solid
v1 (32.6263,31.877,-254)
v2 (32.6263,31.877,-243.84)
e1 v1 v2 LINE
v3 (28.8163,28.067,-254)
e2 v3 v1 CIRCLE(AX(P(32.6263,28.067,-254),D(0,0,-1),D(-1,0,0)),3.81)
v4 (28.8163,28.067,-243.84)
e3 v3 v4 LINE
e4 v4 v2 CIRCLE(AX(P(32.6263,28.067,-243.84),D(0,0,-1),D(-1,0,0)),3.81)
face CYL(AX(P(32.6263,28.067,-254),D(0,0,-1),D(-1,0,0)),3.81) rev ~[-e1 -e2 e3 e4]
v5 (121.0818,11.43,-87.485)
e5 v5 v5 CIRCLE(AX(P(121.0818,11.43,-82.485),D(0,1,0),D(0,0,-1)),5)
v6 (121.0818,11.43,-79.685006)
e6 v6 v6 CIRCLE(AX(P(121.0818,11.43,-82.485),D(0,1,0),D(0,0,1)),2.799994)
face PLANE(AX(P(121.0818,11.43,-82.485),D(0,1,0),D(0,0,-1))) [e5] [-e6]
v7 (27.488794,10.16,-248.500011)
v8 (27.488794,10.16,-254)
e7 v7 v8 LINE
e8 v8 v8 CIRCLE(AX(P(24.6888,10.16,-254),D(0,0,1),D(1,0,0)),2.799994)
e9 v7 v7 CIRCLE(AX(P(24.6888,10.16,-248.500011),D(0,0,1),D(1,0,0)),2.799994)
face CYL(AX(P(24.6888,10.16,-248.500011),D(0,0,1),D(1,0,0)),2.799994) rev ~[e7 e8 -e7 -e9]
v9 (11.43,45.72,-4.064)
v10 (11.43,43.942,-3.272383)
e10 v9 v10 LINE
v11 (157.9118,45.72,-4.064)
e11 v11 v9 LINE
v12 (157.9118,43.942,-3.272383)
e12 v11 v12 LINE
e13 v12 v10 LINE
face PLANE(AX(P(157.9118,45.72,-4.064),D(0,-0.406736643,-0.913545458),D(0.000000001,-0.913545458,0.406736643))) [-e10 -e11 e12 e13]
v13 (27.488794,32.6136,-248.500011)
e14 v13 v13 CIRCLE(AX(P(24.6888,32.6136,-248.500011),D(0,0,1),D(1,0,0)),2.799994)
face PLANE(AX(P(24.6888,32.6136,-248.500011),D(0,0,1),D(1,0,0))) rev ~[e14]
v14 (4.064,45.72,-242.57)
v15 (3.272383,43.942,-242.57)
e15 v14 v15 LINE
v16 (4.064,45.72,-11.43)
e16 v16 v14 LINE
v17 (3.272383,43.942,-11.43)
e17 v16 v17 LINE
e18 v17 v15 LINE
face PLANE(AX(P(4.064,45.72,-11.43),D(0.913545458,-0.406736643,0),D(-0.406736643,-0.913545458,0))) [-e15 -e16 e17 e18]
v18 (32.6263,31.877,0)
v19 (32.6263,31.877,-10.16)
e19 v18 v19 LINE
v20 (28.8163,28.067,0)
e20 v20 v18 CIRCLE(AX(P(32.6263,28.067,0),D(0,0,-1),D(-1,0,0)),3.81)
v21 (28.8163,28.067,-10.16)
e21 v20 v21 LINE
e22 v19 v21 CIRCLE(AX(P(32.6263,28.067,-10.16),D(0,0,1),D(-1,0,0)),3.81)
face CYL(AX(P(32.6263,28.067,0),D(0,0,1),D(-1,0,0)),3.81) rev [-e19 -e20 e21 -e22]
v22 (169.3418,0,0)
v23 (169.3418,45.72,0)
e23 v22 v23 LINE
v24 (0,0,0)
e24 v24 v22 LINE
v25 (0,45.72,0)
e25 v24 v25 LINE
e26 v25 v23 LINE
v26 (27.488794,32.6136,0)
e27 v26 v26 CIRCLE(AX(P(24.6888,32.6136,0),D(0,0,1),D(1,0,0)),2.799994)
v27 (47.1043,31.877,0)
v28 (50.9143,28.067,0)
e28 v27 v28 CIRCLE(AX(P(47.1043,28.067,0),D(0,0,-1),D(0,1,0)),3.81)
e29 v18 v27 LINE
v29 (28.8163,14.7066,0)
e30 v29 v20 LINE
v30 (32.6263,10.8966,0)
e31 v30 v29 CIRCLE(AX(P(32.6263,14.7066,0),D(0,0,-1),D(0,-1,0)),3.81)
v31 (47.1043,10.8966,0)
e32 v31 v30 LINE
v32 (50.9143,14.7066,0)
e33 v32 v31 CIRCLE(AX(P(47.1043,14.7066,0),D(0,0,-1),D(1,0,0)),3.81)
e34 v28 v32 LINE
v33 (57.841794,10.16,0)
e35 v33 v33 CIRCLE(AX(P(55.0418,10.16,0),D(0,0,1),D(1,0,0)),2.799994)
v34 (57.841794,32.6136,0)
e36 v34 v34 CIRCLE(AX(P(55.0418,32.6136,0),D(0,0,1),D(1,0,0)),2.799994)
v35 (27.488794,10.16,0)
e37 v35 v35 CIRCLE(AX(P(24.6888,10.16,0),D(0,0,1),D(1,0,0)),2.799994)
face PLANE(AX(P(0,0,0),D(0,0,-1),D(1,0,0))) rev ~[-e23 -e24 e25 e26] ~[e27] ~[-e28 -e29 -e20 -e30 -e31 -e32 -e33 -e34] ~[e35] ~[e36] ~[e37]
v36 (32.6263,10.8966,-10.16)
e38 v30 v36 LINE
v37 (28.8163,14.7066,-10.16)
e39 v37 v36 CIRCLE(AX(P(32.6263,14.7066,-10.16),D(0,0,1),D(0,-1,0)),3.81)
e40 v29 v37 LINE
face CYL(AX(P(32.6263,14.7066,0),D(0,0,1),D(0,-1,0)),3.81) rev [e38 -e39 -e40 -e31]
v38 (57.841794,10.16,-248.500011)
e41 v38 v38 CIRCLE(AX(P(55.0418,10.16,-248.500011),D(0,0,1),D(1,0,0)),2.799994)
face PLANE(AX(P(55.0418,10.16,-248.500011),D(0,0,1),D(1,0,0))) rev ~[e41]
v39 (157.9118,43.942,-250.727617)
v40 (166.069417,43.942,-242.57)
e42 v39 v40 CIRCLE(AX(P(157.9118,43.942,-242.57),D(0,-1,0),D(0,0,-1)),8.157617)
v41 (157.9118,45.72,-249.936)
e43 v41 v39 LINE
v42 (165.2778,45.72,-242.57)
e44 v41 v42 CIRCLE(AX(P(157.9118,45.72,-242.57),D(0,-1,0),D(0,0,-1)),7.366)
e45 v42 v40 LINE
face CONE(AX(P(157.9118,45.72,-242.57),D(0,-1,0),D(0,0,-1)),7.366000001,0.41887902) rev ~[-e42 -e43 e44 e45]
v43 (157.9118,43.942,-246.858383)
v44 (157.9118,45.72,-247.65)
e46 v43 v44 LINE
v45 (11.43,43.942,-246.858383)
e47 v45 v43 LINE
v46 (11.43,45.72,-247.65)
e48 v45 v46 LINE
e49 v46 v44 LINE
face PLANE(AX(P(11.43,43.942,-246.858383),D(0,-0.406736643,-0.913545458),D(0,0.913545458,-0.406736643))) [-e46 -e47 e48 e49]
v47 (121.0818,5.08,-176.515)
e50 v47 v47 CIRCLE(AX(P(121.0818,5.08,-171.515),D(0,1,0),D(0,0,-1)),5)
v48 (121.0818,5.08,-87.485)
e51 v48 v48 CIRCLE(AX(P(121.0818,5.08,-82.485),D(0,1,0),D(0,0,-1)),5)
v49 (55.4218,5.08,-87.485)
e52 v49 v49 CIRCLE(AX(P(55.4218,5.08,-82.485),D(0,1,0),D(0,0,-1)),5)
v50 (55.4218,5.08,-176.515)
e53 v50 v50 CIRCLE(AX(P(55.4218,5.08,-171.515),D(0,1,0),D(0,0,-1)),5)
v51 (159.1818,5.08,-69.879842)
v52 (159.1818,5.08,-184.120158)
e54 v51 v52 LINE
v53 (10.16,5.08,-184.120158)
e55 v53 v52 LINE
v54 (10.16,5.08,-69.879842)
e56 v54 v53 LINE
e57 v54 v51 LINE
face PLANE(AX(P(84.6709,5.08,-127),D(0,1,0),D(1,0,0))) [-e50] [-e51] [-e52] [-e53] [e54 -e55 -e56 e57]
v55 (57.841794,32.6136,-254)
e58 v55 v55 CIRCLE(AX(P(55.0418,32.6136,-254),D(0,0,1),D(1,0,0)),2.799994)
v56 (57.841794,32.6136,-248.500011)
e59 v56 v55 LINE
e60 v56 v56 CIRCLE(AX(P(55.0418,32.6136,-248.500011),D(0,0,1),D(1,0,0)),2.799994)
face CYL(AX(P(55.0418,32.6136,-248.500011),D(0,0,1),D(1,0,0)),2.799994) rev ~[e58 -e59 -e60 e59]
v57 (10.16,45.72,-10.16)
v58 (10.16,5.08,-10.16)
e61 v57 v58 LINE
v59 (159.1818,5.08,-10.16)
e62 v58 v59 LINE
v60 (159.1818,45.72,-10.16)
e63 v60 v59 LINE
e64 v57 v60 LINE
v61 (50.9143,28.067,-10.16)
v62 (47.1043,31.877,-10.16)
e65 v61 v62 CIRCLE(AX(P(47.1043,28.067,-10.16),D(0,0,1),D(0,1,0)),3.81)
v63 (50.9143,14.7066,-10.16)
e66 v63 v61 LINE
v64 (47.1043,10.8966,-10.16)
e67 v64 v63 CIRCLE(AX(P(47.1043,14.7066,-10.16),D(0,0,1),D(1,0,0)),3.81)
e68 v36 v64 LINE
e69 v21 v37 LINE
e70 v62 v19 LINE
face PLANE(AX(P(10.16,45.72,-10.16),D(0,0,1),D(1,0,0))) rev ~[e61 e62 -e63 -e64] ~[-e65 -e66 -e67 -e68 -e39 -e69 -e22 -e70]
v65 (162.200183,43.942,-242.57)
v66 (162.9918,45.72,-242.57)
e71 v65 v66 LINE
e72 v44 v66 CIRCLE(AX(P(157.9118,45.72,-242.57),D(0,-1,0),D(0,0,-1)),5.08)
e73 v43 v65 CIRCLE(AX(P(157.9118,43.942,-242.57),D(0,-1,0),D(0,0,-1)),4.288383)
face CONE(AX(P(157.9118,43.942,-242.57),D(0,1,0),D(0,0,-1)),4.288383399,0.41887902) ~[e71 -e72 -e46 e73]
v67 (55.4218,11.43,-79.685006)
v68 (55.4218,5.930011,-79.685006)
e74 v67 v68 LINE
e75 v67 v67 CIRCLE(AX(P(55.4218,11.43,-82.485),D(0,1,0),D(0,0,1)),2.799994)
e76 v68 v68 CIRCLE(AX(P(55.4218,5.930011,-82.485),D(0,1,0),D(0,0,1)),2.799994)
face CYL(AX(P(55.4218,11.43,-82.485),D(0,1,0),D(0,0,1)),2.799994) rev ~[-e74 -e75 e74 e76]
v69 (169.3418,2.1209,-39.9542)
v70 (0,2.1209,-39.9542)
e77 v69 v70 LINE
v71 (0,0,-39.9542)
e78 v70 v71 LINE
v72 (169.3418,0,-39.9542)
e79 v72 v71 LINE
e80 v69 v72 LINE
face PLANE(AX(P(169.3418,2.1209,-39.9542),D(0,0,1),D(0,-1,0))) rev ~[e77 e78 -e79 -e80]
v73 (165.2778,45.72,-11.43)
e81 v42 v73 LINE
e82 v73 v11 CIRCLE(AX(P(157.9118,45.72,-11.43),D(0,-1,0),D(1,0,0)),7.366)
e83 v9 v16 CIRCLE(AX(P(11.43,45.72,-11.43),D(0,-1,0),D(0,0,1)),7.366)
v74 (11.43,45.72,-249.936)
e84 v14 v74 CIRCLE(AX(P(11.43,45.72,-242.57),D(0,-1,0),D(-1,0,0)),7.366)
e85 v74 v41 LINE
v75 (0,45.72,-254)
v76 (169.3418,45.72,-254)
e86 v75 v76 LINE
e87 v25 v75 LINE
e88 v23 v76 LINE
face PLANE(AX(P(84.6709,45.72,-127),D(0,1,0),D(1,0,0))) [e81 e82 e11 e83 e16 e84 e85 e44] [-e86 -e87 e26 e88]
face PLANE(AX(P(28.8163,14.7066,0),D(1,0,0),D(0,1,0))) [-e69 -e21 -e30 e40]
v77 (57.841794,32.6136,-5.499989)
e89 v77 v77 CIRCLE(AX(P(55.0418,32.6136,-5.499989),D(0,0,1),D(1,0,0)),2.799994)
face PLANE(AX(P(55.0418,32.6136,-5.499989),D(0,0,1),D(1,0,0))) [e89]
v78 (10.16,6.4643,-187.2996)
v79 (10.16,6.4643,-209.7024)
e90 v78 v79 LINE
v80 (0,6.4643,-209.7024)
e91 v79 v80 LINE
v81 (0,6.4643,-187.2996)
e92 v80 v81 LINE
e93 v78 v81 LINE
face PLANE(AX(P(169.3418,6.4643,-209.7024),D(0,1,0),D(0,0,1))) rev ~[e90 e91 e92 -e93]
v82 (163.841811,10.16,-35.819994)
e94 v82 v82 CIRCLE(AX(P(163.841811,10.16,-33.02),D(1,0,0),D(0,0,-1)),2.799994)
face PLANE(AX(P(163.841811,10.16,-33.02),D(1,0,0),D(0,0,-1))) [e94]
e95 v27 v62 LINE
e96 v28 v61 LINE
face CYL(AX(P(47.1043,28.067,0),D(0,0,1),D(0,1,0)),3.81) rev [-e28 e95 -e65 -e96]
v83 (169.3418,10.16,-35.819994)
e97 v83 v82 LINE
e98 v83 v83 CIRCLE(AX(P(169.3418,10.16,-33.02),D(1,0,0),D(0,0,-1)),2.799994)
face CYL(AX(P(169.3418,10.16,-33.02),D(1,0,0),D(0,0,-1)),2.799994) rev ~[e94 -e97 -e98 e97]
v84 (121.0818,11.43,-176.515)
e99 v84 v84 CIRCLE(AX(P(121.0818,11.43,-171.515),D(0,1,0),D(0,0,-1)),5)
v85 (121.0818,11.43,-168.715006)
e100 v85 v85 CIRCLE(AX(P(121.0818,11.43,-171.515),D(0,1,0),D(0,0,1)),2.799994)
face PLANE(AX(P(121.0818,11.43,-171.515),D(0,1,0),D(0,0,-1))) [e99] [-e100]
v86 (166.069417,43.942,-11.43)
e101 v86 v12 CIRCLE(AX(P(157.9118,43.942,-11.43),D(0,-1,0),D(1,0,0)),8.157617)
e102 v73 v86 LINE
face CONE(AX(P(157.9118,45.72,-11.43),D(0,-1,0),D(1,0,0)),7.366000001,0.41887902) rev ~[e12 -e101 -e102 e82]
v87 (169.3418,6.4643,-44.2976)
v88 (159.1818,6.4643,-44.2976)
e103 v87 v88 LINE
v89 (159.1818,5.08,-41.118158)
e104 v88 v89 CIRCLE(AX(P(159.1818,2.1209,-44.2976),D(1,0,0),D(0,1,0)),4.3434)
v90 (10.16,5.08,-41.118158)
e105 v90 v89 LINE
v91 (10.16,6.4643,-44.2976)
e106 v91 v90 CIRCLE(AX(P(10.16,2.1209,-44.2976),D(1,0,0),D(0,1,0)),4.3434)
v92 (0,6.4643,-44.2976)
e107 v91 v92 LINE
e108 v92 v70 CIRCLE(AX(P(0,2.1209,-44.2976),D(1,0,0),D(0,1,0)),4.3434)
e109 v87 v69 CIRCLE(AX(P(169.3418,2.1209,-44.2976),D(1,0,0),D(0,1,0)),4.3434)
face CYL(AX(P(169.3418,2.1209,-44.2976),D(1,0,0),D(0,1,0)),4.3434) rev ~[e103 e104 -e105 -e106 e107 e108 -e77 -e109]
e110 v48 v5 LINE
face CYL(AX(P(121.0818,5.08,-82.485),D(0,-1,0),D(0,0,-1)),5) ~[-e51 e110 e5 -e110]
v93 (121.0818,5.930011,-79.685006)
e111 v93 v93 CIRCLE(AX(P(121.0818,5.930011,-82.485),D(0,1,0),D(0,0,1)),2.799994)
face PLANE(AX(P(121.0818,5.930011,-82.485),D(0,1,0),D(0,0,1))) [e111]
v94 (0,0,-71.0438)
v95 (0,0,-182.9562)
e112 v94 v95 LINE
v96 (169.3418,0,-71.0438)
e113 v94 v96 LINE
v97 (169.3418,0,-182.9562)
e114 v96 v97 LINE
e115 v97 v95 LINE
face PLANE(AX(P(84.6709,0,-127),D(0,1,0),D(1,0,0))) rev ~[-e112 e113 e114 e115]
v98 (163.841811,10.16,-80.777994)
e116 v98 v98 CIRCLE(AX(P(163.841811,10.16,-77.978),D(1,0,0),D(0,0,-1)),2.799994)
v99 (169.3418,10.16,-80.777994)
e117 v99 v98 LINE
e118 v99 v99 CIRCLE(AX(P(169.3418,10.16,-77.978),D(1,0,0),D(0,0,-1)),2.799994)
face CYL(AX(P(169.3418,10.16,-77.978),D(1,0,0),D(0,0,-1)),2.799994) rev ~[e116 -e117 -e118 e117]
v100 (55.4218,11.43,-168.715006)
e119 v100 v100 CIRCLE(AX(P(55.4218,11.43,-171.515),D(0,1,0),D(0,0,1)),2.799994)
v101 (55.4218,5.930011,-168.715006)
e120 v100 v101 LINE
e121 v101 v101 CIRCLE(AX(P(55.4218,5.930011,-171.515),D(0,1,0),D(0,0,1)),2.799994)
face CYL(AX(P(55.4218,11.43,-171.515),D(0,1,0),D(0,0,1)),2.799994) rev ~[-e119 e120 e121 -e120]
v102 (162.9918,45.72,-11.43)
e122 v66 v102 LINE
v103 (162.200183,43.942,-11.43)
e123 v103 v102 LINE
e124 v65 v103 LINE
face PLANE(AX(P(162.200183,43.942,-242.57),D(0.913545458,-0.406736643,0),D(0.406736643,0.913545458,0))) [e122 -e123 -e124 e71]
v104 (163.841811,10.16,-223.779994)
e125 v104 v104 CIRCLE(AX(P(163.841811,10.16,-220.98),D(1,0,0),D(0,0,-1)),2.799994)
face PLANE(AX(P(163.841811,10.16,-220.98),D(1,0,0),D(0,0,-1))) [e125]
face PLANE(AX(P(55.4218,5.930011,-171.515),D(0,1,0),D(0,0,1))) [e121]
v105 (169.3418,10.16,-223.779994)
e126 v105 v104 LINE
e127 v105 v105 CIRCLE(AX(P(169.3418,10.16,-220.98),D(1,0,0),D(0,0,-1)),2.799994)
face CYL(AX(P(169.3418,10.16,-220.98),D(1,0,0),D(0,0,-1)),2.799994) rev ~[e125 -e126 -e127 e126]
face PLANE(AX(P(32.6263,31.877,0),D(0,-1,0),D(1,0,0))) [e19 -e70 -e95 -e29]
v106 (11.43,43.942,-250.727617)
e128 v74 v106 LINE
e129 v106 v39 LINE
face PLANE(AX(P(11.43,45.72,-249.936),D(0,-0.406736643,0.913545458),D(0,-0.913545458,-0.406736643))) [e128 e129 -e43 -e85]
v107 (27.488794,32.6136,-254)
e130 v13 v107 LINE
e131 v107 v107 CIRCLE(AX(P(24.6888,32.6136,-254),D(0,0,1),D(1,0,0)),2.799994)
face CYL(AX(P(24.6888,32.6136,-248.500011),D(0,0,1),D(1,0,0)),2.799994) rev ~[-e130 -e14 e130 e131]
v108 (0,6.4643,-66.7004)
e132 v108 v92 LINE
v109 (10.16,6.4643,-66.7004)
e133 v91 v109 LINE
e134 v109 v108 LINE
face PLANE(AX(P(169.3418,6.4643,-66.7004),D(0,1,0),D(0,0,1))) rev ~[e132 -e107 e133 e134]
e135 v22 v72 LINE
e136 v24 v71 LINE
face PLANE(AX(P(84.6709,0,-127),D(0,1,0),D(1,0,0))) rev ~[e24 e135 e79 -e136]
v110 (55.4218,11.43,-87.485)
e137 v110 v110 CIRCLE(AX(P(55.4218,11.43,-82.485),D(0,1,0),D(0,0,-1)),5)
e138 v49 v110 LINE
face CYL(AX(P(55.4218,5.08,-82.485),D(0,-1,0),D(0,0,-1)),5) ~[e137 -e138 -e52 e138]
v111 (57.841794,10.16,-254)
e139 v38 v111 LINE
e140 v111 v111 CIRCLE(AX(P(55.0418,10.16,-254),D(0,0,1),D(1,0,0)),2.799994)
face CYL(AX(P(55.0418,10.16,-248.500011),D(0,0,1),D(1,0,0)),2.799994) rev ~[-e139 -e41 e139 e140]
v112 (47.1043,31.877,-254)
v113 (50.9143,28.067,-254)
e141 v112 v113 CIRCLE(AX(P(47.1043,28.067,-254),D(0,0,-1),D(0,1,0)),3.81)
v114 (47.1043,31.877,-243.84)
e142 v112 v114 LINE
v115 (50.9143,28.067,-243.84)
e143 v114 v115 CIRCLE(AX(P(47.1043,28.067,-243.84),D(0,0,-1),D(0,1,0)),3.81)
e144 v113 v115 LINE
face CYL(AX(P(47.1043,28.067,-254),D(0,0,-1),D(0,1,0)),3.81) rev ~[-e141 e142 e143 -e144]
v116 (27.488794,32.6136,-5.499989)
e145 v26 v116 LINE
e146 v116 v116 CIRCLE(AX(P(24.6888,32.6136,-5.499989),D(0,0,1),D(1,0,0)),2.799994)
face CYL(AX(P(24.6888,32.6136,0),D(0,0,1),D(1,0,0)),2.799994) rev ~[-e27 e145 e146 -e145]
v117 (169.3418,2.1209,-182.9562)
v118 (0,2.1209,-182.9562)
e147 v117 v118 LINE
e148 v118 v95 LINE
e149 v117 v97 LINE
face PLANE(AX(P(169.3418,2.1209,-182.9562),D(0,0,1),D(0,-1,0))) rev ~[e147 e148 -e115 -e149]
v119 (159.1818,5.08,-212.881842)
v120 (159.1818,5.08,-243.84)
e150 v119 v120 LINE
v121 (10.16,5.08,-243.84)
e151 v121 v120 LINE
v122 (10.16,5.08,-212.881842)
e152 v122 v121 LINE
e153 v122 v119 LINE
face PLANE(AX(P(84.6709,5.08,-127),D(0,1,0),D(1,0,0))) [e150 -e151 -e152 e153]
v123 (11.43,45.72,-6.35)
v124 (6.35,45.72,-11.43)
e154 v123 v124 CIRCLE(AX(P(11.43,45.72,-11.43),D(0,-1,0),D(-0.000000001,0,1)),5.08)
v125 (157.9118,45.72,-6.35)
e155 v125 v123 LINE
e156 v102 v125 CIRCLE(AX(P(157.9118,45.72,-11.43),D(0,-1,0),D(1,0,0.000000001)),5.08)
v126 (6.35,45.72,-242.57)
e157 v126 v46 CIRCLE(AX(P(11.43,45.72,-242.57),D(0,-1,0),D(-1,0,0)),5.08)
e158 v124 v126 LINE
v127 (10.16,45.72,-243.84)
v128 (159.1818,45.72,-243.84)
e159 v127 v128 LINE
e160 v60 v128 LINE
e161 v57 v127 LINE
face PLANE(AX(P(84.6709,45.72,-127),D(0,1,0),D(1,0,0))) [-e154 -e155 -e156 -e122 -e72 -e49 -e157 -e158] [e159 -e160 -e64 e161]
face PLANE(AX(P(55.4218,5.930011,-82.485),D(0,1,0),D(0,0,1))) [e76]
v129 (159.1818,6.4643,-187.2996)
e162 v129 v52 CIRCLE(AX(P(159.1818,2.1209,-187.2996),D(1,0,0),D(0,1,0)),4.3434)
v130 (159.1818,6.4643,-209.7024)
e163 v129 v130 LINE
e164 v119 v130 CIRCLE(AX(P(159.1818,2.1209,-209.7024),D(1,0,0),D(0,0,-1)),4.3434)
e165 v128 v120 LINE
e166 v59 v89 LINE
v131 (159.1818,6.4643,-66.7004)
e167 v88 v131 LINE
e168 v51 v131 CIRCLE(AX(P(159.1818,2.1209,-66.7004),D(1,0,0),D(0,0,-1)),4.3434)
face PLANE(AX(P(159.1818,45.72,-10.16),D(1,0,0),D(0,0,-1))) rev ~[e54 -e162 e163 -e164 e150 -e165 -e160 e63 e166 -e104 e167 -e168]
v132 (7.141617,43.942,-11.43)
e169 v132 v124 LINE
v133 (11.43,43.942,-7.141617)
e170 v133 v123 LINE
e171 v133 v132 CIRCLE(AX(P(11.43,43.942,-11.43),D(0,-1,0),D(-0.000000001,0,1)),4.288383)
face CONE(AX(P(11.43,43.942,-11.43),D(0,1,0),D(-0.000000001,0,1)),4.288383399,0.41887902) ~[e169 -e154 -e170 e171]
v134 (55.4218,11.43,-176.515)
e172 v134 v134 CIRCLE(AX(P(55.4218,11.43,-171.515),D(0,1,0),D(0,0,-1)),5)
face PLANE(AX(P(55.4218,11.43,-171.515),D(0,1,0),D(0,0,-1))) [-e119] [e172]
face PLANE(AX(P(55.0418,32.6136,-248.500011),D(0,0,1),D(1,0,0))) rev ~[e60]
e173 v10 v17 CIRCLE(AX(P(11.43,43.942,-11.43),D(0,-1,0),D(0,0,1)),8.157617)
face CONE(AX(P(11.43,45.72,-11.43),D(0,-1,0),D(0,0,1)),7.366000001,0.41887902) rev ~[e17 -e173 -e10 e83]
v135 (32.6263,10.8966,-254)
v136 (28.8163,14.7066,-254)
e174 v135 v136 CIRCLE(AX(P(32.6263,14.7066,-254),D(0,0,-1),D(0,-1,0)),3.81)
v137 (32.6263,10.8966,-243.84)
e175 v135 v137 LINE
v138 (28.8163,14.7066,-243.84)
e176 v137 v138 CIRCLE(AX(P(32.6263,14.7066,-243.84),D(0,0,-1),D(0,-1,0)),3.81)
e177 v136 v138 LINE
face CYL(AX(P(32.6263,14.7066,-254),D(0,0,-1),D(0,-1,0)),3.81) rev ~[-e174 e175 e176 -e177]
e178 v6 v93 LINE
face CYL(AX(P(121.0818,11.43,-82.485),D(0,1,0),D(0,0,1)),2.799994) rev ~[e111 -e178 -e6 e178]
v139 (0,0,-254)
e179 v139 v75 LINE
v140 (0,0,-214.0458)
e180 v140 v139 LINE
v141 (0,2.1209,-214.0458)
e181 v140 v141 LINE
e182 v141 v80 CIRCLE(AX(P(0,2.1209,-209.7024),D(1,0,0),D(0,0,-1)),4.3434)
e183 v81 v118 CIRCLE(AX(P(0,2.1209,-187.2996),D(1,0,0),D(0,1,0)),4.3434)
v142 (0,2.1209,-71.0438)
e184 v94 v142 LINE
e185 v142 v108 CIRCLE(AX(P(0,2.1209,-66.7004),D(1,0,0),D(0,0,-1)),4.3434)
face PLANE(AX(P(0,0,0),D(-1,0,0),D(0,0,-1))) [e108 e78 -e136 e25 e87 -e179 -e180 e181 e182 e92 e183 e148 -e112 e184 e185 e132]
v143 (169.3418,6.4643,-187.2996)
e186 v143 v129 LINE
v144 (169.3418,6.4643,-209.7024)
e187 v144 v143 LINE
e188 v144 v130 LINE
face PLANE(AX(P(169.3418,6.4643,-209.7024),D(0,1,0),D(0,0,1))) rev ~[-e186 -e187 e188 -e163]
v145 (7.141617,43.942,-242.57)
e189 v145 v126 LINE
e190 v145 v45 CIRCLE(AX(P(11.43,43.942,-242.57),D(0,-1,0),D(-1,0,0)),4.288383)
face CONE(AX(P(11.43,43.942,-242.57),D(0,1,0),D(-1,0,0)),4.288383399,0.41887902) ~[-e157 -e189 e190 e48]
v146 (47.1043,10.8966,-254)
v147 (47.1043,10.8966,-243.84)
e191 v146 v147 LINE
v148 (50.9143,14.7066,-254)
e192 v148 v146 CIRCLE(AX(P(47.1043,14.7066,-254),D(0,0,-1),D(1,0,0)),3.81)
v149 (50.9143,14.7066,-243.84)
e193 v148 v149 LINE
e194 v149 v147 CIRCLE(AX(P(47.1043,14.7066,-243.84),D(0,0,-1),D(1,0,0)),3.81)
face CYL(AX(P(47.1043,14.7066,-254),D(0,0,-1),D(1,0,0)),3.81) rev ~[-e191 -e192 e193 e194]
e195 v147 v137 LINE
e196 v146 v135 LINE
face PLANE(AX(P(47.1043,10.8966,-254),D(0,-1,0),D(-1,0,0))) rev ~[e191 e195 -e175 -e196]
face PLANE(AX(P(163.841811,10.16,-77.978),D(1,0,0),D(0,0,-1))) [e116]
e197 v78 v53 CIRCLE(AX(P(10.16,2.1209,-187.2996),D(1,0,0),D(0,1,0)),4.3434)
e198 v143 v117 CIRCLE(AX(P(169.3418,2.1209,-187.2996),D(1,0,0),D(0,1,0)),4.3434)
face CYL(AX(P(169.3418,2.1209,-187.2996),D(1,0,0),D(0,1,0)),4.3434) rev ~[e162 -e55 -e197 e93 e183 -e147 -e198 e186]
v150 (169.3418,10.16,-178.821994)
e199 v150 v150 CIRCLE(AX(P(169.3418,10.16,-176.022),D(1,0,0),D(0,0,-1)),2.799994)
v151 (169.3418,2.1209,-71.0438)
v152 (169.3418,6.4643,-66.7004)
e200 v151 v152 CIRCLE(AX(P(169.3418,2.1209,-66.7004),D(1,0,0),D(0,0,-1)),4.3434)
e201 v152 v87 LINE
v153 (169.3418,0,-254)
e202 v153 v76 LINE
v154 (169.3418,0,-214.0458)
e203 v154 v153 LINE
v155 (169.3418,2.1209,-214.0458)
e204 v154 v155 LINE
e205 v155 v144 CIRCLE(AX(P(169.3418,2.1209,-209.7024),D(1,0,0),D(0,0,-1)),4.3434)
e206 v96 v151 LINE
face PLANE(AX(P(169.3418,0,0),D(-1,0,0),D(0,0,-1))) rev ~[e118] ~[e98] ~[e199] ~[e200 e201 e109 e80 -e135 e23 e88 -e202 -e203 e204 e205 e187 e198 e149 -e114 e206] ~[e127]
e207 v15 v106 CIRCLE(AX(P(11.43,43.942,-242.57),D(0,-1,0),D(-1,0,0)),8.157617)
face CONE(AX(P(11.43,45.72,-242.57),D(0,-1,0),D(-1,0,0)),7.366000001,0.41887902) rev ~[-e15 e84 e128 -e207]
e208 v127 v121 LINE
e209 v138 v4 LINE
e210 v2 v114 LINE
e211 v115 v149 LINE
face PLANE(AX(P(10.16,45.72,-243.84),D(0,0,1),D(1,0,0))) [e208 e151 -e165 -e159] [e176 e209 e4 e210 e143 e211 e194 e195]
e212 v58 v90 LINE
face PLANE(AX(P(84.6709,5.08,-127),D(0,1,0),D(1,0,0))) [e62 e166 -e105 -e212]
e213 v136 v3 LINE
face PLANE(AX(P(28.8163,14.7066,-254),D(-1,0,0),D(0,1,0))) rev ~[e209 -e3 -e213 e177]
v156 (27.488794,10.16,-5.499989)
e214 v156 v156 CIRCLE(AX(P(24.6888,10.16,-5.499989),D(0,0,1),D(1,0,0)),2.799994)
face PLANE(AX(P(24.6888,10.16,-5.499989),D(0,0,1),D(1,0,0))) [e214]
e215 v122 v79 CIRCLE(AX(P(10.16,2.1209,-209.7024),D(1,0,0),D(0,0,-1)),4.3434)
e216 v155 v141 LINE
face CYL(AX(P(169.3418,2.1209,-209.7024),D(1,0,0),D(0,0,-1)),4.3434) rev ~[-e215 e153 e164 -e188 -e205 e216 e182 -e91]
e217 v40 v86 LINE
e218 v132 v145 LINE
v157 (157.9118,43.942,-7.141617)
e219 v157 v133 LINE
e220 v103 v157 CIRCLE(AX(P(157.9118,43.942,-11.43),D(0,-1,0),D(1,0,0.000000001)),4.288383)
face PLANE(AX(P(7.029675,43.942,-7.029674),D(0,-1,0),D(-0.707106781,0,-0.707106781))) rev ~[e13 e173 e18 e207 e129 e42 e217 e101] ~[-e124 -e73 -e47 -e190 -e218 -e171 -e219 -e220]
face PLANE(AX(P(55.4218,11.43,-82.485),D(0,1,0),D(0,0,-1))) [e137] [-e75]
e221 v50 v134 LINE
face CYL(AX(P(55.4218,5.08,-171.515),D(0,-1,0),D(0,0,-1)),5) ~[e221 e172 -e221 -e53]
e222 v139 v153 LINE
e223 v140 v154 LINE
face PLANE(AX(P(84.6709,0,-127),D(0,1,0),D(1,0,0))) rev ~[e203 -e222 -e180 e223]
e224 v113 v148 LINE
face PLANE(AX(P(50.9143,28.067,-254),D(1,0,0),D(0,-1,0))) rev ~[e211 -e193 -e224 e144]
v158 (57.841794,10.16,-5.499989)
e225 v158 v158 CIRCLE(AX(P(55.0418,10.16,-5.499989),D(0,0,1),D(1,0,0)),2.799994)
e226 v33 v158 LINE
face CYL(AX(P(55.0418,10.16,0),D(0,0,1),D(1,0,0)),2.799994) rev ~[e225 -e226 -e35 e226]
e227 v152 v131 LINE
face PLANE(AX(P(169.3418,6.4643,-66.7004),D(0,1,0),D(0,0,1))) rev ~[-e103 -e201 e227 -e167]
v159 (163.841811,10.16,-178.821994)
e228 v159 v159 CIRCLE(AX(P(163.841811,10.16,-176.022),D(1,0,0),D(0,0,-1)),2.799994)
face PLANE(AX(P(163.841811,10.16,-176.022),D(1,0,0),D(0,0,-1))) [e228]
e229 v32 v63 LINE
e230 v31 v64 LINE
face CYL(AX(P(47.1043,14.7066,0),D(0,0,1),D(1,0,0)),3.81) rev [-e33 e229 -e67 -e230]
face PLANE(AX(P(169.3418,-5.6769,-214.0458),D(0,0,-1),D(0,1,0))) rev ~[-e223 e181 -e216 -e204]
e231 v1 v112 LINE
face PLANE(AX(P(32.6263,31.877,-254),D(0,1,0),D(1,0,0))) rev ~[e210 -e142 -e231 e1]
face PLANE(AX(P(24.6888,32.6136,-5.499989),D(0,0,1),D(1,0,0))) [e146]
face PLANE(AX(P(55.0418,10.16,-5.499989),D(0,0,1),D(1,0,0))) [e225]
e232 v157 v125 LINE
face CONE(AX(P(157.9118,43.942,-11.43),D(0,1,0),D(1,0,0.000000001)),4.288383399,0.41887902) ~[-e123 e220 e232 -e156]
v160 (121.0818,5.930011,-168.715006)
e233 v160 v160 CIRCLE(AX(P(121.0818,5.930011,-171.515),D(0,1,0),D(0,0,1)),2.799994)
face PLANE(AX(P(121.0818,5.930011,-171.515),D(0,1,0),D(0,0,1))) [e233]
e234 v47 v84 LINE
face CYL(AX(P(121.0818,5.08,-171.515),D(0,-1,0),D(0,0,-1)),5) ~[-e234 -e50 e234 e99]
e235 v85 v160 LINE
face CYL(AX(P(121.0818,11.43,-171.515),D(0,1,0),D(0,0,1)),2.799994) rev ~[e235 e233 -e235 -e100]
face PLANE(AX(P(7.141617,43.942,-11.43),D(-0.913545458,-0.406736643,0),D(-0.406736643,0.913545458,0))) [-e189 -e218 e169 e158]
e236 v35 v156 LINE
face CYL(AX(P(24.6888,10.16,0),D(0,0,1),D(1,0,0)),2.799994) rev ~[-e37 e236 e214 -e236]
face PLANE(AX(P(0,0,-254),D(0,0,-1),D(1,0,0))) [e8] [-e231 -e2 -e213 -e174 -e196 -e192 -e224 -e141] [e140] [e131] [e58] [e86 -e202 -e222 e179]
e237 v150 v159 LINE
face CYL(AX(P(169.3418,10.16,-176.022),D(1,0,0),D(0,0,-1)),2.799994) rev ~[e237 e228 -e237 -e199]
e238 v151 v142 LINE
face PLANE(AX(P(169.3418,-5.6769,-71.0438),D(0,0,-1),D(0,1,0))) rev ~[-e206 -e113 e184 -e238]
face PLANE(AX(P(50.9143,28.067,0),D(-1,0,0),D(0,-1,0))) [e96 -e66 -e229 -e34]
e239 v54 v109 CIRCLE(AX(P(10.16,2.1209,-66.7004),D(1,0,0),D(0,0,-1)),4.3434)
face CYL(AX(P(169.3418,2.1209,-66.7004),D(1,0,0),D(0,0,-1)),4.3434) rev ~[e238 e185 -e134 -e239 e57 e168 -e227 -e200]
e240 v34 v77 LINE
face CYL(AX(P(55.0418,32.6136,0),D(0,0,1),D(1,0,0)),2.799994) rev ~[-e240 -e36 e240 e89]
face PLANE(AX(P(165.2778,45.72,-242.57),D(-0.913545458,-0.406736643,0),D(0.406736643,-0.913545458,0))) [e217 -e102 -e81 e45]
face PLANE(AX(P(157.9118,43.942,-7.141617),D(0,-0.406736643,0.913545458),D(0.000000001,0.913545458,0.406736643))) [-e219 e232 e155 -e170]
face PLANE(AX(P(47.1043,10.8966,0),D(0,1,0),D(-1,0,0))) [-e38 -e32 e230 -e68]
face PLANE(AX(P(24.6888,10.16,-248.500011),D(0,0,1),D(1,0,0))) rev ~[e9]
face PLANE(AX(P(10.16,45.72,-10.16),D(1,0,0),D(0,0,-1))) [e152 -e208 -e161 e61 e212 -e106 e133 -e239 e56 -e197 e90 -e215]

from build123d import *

# Parameters (mm, degrees)
SKETCH1_W           = 169.3418
SKETCH1_H           = 254
BOSS_EXTRUDE1_DEPTH = 45.72
SKETCH2_W           = 149.0218
SKETCH2_H           = 233.68
CUT_EXTRUDE1_DEPTH  = 40.64
CUT_EXTRUDE10_REACH = 310.679
F_12_PIN_MOUNT_R    = 2.7999944
CUT_EXTRUDE3_DEPTH  = 5.499989
CUT_EXTRUDE5_REACH  = 310.679
CUT_EXTRUDE6_START  = -254
CUT_EXTRUDE6_DEPTH  = 10.16
SKETCH6_R           = 2.7999944
CUT_EXTRUDE7_DEPTH  = 5.499989
CUT_EXTRUDE8_START  = -248.500011
SKETCH6_2_R         = 2.7999944
CUT_EXTRUDE8_DEPTH  = 5.499989
SKETCH7_R           = 5
BOSS_EXTRUDE2_DEPTH = 6.35
CUT_EXTRUDE9_START  = 6.35
SKETCH8_R           = 2.7999944
CUT_EXTRUDE9_DEPTH  = 5.499989


with BuildPart() as part:
    # Sketch1 → Boss-Extrude1 (new body)
    with BuildSketch(Plane(origin=(0, 0, 0), x_dir=(1, 0, 0), z_dir=(0, 1, 0))):
        with Locations((84.6709, 127)):
            Rectangle(SKETCH1_W, SKETCH1_H)
    extrude(amount=BOSS_EXTRUDE1_DEPTH)

    # Sketch2 → Cut-Extrude1 (cut)
    with BuildSketch(Plane(origin=(0, 45.72, 0), x_dir=(1, 0, 0), z_dir=(0, 1, 0))):
        with Locations((84.6709, 127)):
            Rectangle(SKETCH2_W, SKETCH2_H)
    extrude(amount=-CUT_EXTRUDE1_DEPTH, mode=Mode.SUBTRACT)

    # Cut-Sweep2: sweep along a path in Sketch3
    with BuildLine(Plane(origin=(0, 45.72, 0), x_dir=(1, 0, 0), z_dir=(0, 1, 0))) as cut_sweep2_path:
        Line((6.35, 11.43), (6.35, 242.57))
        ThreePointArc((6.35, 242.57), (7.837897552, 246.162102448), (11.43, 247.65))
        Line((11.43, 247.65), (157.9118, 247.65))
        ThreePointArc((157.9118, 247.65), (161.503902448, 246.162102448), (162.9918, 242.57))
        Line((162.9918, 242.57), (162.9918, 11.43))
        ThreePointArc((162.9918, 11.43), (161.503902448, 7.837897552), (157.9118, 6.35))
        Line((157.9118, 6.35), (11.43, 6.35))
        ThreePointArc((11.43, 6.35), (7.837897552, 7.837897552), (6.35, 11.43))
    # Sketch4 → Cut-Sweep2 (sweep, cut)
    with BuildSketch(Plane.XY.offset(-15.24)):
        Polygon((4.064, 45.72), (3.272383398, 43.942), (7.141616602, 43.942), (6.35, 45.72), align=None)
    sweep(path=cut_sweep2_path.line, mode=Mode.SUBTRACT)

    # Sketch13 → Cut-Extrude10 (cut, up to next)
    with BuildSketch(Plane(origin=(169.3418, 0, 0), x_dir=(0, 0, -1), z_dir=(1, 0, 0)), mode=Mode.PRIVATE) as cut_extrude10_sk1:
        with BuildLine():
            Line((48.5902, -10.7823), (48.5902, -12.4587))
            ThreePointArc((48.5902, -12.4587), (48.813384633, -12.997515367), (49.3522, -13.2207))
            Line((49.3522, -13.2207), (61.6458, -13.2207))
            ThreePointArc((61.6458, -13.2207), (62.184615367, -12.997515367), (62.4078, -12.4587))
            Line((62.4078, -12.4587), (62.4078, -10.7823))
            ThreePointArc((62.4078, -10.7823), (62.630984633, -10.243484633), (63.1698, -10.0203))
            Line((63.1698, -10.0203), (66.7004, -10.0203))
            ThreePointArc((66.7004, -10.0203), (69.771647593, -8.748147593), (71.0438, -5.6769))
            Line((71.0438, -5.6769), (71.0438, 2.1209))
            ThreePointArc((71.0438, 2.1209), (69.771647593, 5.192147593), (66.7004, 6.4643))
            Line((66.7004, 6.4643), (44.2976, 6.4643))
            ThreePointArc((44.2976, 6.4643), (41.226352407, 5.192147593), (39.9542, 2.1209))
            Line((39.9542, 2.1209), (39.9542, -5.6769))
            ThreePointArc((39.9542, -5.6769), (41.226352407, -8.748147593), (44.2976, -10.0203))
            Line((44.2976, -10.0203), (47.8282, -10.0203))
            ThreePointArc((47.8282, -10.0203), (48.367015367, -10.243484633), (48.5902, -10.7823))
        make_face()
    cut_extrude10_tool1 = extrude(cut_extrude10_sk1.sketch, amount=-CUT_EXTRUDE10_REACH, mode=Mode.PRIVATE) & part.part
    # Sketch13 → Cut-Extrude10 (cut, up to next)
    with BuildSketch(Plane(origin=(169.3418, 0, 0), x_dir=(0, 0, -1), z_dir=(1, 0, 0)), mode=Mode.PRIVATE) as cut_extrude10_sk2:
        with BuildLine():
            Line((191.5922, -10.7823), (191.5922, -12.4587))
            ThreePointArc((191.5922, -12.4587), (191.815384633, -12.997515367), (192.3542, -13.2207))
            Line((192.3542, -13.2207), (204.6478, -13.2207))
            ThreePointArc((204.6478, -13.2207), (205.186615367, -12.997515367), (205.4098, -12.4587))
            Line((205.4098, -12.4587), (205.4098, -10.7823))
            ThreePointArc((205.4098, -10.7823), (205.632984633, -10.243484633), (206.1718, -10.0203))
            Line((206.1718, -10.0203), (209.7024, -10.0203))
            ThreePointArc((209.7024, -10.0203), (212.773647593, -8.748147593), (214.0458, -5.6769))
            Line((214.0458, -5.6769), (214.0458, 2.1209))
            ThreePointArc((214.0458, 2.1209), (212.773647593, 5.192147593), (209.7024, 6.4643))
            Line((209.7024, 6.4643), (187.2996, 6.4643))
            ThreePointArc((187.2996, 6.4643), (184.228352407, 5.192147593), (182.9562, 2.1209))
            Line((182.9562, 2.1209), (182.9562, -5.6769))
            ThreePointArc((182.9562, -5.6769), (184.228352407, -8.748147593), (187.2996, -10.0203))
            Line((187.2996, -10.0203), (190.8302, -10.0203))
            ThreePointArc((190.8302, -10.0203), (191.369015367, -10.243484633), (191.5922, -10.7823))
        make_face()
    cut_extrude10_tool2 = extrude(cut_extrude10_sk2.sketch, amount=-CUT_EXTRUDE10_REACH, mode=Mode.PRIVATE) & part.part
    add(cut_extrude10_tool1.solids().sort_by_distance((169.3418, -2.58192, -55.499))[0], mode=Mode.SUBTRACT)
    add(cut_extrude10_tool2.solids().sort_by_distance((169.3418, -2.58192, -198.501))[0], mode=Mode.SUBTRACT)

    # 12 pin mount → Cut-Extrude3 (cut)
    with BuildSketch(Plane(origin=(169.3418, 0, 0), x_dir=(0, 0, -1), z_dir=(1, 0, 0))):
        with Locations((77.978, -13.716)):
            Circle(F_12_PIN_MOUNT_R)
        with Locations((77.978, 10.16)):
            Circle(F_12_PIN_MOUNT_R)
        with Locations((33.02, 10.16)):
            Circle(F_12_PIN_MOUNT_R)
        with Locations((33.02, -13.716)):
            Circle(F_12_PIN_MOUNT_R)
        with Locations((176.022, -13.716)):
            Circle(F_12_PIN_MOUNT_R)
        with Locations((220.98, -13.716)):
            Circle(F_12_PIN_MOUNT_R)
        with Locations((220.98, 10.16)):
            Circle(F_12_PIN_MOUNT_R)
        with Locations((176.022, 10.16)):
            Circle(F_12_PIN_MOUNT_R)
    extrude(amount=-CUT_EXTRUDE3_DEPTH, mode=Mode.SUBTRACT)

    # 4 pin connector → Cut-Extrude5 (cut, up to next)
    with BuildSketch(Plane.XY, mode=Mode.PRIVATE) as cut_extrude5_sk1:
        with BuildLine():
            Line((32.6263, 31.877), (47.1043, 31.877))
            ThreePointArc((47.1043, 31.877), (49.798376836, 30.761076836), (50.9143, 28.067))
            Line((50.9143, 28.067), (50.9143, 14.7066))
            ThreePointArc((50.9143, 14.7066), (49.798376836, 12.012523164), (47.1043, 10.8966))
            Line((47.1043, 10.8966), (32.6263, 10.8966))
            ThreePointArc((32.6263, 10.8966), (29.932223164, 12.012523164), (28.8163, 14.7066))
            Line((28.8163, 14.7066), (28.8163, 28.067))
            ThreePointArc((28.8163, 28.067), (29.932223164, 30.761076836), (32.6263, 31.877))
        make_face()
    cut_extrude5_tool1 = extrude(cut_extrude5_sk1.sketch, amount=-CUT_EXTRUDE5_REACH, mode=Mode.PRIVATE) & part.part
    add(cut_extrude5_tool1.solids().sort_by_distance((39.8653, 21.3868, 0))[0], mode=Mode.SUBTRACT)

    # Sketch5<2> → Cut-Extrude6 (cut)
    with BuildSketch(Plane.XY.offset(CUT_EXTRUDE6_START)):
        with BuildLine():
            Line((32.6263, 31.877), (47.1043, 31.877))
            ThreePointArc((47.1043, 31.877), (49.798376836, 30.761076836), (50.9143, 28.067))
            Line((50.9143, 28.067), (50.9143, 14.7066))
            ThreePointArc((50.9143, 14.7066), (49.798376836, 12.012523164), (47.1043, 10.8966))
            Line((47.1043, 10.8966), (32.6263, 10.8966))
            ThreePointArc((32.6263, 10.8966), (29.932223164, 12.012523164), (28.8163, 14.7066))
            Line((28.8163, 14.7066), (28.8163, 28.067))
            ThreePointArc((28.8163, 28.067), (29.932223164, 30.761076836), (32.6263, 31.877))
        make_face()
    extrude(amount=CUT_EXTRUDE6_DEPTH, mode=Mode.SUBTRACT)

    # Sketch6 → Cut-Extrude7 (cut)
    with BuildSketch(Plane.XY):
        with Locations((55.0418, 32.6136)):
            Circle(SKETCH6_R)
        with Locations((55.0418, 10.16)):
            Circle(SKETCH6_R)
        with Locations((24.6888, 10.16)):
            Circle(SKETCH6_R)
        with Locations((24.6888, 32.6136)):
            Circle(SKETCH6_R)
    extrude(amount=-CUT_EXTRUDE7_DEPTH, mode=Mode.SUBTRACT)

    # Sketch6<2> → Cut-Extrude8 (cut)
    with BuildSketch(Plane.XY.offset(CUT_EXTRUDE8_START)):
        with Locations((55.0418, 32.6136)):
            Circle(SKETCH6_2_R)
        with Locations((55.0418, 10.16)):
            Circle(SKETCH6_2_R)
        with Locations((24.6888, 10.16)):
            Circle(SKETCH6_2_R)
        with Locations((24.6888, 32.6136)):
            Circle(SKETCH6_2_R)
    extrude(amount=-CUT_EXTRUDE8_DEPTH, mode=Mode.SUBTRACT)

    # Sketch7 → Boss-Extrude2 (add)
    with BuildSketch(Plane(origin=(0, 5.08, 0), x_dir=(1, 0, 0), z_dir=(0, 1, 0))):
        with Locations(Location((55.4218, 82.485, 0), (0, 0, 90))):
            Circle(SKETCH7_R)
        with Locations(Location((121.0818, 82.485, 0), (0, 0, 90))):
            Circle(SKETCH7_R)
        with Locations(Location((121.0818, 171.515, 0), (0, 0, 90))):
            Circle(SKETCH7_R)
        with Locations(Location((55.4218, 171.515, 0), (0, 0, 90))):
            Circle(SKETCH7_R)
    extrude(amount=BOSS_EXTRUDE2_DEPTH)

    # Sketch8 → Cut-Extrude9 (cut)
    with BuildSketch(Plane(origin=(0, 5.08, 0), x_dir=(1, 0, 0), z_dir=(0, 1, 0)).offset(CUT_EXTRUDE9_START)):
        with Locations(Location((55.4218, 171.515, 0), (0, 0, 270))):
            Circle(SKETCH8_R)
        with Locations(Location((121.0818, 171.515, 0), (0, 0, 270))):
            Circle(SKETCH8_R)
        with Locations(Location((121.0818, 82.485, 0), (0, 0, 270))):
            Circle(SKETCH8_R)
        with Locations(Location((55.4218, 82.485, 0), (0, 0, 270))):
            Circle(SKETCH8_R)
    extrude(amount=-CUT_EXTRUDE9_DEPTH, mode=Mode.SUBTRACT)


solid = part.part
